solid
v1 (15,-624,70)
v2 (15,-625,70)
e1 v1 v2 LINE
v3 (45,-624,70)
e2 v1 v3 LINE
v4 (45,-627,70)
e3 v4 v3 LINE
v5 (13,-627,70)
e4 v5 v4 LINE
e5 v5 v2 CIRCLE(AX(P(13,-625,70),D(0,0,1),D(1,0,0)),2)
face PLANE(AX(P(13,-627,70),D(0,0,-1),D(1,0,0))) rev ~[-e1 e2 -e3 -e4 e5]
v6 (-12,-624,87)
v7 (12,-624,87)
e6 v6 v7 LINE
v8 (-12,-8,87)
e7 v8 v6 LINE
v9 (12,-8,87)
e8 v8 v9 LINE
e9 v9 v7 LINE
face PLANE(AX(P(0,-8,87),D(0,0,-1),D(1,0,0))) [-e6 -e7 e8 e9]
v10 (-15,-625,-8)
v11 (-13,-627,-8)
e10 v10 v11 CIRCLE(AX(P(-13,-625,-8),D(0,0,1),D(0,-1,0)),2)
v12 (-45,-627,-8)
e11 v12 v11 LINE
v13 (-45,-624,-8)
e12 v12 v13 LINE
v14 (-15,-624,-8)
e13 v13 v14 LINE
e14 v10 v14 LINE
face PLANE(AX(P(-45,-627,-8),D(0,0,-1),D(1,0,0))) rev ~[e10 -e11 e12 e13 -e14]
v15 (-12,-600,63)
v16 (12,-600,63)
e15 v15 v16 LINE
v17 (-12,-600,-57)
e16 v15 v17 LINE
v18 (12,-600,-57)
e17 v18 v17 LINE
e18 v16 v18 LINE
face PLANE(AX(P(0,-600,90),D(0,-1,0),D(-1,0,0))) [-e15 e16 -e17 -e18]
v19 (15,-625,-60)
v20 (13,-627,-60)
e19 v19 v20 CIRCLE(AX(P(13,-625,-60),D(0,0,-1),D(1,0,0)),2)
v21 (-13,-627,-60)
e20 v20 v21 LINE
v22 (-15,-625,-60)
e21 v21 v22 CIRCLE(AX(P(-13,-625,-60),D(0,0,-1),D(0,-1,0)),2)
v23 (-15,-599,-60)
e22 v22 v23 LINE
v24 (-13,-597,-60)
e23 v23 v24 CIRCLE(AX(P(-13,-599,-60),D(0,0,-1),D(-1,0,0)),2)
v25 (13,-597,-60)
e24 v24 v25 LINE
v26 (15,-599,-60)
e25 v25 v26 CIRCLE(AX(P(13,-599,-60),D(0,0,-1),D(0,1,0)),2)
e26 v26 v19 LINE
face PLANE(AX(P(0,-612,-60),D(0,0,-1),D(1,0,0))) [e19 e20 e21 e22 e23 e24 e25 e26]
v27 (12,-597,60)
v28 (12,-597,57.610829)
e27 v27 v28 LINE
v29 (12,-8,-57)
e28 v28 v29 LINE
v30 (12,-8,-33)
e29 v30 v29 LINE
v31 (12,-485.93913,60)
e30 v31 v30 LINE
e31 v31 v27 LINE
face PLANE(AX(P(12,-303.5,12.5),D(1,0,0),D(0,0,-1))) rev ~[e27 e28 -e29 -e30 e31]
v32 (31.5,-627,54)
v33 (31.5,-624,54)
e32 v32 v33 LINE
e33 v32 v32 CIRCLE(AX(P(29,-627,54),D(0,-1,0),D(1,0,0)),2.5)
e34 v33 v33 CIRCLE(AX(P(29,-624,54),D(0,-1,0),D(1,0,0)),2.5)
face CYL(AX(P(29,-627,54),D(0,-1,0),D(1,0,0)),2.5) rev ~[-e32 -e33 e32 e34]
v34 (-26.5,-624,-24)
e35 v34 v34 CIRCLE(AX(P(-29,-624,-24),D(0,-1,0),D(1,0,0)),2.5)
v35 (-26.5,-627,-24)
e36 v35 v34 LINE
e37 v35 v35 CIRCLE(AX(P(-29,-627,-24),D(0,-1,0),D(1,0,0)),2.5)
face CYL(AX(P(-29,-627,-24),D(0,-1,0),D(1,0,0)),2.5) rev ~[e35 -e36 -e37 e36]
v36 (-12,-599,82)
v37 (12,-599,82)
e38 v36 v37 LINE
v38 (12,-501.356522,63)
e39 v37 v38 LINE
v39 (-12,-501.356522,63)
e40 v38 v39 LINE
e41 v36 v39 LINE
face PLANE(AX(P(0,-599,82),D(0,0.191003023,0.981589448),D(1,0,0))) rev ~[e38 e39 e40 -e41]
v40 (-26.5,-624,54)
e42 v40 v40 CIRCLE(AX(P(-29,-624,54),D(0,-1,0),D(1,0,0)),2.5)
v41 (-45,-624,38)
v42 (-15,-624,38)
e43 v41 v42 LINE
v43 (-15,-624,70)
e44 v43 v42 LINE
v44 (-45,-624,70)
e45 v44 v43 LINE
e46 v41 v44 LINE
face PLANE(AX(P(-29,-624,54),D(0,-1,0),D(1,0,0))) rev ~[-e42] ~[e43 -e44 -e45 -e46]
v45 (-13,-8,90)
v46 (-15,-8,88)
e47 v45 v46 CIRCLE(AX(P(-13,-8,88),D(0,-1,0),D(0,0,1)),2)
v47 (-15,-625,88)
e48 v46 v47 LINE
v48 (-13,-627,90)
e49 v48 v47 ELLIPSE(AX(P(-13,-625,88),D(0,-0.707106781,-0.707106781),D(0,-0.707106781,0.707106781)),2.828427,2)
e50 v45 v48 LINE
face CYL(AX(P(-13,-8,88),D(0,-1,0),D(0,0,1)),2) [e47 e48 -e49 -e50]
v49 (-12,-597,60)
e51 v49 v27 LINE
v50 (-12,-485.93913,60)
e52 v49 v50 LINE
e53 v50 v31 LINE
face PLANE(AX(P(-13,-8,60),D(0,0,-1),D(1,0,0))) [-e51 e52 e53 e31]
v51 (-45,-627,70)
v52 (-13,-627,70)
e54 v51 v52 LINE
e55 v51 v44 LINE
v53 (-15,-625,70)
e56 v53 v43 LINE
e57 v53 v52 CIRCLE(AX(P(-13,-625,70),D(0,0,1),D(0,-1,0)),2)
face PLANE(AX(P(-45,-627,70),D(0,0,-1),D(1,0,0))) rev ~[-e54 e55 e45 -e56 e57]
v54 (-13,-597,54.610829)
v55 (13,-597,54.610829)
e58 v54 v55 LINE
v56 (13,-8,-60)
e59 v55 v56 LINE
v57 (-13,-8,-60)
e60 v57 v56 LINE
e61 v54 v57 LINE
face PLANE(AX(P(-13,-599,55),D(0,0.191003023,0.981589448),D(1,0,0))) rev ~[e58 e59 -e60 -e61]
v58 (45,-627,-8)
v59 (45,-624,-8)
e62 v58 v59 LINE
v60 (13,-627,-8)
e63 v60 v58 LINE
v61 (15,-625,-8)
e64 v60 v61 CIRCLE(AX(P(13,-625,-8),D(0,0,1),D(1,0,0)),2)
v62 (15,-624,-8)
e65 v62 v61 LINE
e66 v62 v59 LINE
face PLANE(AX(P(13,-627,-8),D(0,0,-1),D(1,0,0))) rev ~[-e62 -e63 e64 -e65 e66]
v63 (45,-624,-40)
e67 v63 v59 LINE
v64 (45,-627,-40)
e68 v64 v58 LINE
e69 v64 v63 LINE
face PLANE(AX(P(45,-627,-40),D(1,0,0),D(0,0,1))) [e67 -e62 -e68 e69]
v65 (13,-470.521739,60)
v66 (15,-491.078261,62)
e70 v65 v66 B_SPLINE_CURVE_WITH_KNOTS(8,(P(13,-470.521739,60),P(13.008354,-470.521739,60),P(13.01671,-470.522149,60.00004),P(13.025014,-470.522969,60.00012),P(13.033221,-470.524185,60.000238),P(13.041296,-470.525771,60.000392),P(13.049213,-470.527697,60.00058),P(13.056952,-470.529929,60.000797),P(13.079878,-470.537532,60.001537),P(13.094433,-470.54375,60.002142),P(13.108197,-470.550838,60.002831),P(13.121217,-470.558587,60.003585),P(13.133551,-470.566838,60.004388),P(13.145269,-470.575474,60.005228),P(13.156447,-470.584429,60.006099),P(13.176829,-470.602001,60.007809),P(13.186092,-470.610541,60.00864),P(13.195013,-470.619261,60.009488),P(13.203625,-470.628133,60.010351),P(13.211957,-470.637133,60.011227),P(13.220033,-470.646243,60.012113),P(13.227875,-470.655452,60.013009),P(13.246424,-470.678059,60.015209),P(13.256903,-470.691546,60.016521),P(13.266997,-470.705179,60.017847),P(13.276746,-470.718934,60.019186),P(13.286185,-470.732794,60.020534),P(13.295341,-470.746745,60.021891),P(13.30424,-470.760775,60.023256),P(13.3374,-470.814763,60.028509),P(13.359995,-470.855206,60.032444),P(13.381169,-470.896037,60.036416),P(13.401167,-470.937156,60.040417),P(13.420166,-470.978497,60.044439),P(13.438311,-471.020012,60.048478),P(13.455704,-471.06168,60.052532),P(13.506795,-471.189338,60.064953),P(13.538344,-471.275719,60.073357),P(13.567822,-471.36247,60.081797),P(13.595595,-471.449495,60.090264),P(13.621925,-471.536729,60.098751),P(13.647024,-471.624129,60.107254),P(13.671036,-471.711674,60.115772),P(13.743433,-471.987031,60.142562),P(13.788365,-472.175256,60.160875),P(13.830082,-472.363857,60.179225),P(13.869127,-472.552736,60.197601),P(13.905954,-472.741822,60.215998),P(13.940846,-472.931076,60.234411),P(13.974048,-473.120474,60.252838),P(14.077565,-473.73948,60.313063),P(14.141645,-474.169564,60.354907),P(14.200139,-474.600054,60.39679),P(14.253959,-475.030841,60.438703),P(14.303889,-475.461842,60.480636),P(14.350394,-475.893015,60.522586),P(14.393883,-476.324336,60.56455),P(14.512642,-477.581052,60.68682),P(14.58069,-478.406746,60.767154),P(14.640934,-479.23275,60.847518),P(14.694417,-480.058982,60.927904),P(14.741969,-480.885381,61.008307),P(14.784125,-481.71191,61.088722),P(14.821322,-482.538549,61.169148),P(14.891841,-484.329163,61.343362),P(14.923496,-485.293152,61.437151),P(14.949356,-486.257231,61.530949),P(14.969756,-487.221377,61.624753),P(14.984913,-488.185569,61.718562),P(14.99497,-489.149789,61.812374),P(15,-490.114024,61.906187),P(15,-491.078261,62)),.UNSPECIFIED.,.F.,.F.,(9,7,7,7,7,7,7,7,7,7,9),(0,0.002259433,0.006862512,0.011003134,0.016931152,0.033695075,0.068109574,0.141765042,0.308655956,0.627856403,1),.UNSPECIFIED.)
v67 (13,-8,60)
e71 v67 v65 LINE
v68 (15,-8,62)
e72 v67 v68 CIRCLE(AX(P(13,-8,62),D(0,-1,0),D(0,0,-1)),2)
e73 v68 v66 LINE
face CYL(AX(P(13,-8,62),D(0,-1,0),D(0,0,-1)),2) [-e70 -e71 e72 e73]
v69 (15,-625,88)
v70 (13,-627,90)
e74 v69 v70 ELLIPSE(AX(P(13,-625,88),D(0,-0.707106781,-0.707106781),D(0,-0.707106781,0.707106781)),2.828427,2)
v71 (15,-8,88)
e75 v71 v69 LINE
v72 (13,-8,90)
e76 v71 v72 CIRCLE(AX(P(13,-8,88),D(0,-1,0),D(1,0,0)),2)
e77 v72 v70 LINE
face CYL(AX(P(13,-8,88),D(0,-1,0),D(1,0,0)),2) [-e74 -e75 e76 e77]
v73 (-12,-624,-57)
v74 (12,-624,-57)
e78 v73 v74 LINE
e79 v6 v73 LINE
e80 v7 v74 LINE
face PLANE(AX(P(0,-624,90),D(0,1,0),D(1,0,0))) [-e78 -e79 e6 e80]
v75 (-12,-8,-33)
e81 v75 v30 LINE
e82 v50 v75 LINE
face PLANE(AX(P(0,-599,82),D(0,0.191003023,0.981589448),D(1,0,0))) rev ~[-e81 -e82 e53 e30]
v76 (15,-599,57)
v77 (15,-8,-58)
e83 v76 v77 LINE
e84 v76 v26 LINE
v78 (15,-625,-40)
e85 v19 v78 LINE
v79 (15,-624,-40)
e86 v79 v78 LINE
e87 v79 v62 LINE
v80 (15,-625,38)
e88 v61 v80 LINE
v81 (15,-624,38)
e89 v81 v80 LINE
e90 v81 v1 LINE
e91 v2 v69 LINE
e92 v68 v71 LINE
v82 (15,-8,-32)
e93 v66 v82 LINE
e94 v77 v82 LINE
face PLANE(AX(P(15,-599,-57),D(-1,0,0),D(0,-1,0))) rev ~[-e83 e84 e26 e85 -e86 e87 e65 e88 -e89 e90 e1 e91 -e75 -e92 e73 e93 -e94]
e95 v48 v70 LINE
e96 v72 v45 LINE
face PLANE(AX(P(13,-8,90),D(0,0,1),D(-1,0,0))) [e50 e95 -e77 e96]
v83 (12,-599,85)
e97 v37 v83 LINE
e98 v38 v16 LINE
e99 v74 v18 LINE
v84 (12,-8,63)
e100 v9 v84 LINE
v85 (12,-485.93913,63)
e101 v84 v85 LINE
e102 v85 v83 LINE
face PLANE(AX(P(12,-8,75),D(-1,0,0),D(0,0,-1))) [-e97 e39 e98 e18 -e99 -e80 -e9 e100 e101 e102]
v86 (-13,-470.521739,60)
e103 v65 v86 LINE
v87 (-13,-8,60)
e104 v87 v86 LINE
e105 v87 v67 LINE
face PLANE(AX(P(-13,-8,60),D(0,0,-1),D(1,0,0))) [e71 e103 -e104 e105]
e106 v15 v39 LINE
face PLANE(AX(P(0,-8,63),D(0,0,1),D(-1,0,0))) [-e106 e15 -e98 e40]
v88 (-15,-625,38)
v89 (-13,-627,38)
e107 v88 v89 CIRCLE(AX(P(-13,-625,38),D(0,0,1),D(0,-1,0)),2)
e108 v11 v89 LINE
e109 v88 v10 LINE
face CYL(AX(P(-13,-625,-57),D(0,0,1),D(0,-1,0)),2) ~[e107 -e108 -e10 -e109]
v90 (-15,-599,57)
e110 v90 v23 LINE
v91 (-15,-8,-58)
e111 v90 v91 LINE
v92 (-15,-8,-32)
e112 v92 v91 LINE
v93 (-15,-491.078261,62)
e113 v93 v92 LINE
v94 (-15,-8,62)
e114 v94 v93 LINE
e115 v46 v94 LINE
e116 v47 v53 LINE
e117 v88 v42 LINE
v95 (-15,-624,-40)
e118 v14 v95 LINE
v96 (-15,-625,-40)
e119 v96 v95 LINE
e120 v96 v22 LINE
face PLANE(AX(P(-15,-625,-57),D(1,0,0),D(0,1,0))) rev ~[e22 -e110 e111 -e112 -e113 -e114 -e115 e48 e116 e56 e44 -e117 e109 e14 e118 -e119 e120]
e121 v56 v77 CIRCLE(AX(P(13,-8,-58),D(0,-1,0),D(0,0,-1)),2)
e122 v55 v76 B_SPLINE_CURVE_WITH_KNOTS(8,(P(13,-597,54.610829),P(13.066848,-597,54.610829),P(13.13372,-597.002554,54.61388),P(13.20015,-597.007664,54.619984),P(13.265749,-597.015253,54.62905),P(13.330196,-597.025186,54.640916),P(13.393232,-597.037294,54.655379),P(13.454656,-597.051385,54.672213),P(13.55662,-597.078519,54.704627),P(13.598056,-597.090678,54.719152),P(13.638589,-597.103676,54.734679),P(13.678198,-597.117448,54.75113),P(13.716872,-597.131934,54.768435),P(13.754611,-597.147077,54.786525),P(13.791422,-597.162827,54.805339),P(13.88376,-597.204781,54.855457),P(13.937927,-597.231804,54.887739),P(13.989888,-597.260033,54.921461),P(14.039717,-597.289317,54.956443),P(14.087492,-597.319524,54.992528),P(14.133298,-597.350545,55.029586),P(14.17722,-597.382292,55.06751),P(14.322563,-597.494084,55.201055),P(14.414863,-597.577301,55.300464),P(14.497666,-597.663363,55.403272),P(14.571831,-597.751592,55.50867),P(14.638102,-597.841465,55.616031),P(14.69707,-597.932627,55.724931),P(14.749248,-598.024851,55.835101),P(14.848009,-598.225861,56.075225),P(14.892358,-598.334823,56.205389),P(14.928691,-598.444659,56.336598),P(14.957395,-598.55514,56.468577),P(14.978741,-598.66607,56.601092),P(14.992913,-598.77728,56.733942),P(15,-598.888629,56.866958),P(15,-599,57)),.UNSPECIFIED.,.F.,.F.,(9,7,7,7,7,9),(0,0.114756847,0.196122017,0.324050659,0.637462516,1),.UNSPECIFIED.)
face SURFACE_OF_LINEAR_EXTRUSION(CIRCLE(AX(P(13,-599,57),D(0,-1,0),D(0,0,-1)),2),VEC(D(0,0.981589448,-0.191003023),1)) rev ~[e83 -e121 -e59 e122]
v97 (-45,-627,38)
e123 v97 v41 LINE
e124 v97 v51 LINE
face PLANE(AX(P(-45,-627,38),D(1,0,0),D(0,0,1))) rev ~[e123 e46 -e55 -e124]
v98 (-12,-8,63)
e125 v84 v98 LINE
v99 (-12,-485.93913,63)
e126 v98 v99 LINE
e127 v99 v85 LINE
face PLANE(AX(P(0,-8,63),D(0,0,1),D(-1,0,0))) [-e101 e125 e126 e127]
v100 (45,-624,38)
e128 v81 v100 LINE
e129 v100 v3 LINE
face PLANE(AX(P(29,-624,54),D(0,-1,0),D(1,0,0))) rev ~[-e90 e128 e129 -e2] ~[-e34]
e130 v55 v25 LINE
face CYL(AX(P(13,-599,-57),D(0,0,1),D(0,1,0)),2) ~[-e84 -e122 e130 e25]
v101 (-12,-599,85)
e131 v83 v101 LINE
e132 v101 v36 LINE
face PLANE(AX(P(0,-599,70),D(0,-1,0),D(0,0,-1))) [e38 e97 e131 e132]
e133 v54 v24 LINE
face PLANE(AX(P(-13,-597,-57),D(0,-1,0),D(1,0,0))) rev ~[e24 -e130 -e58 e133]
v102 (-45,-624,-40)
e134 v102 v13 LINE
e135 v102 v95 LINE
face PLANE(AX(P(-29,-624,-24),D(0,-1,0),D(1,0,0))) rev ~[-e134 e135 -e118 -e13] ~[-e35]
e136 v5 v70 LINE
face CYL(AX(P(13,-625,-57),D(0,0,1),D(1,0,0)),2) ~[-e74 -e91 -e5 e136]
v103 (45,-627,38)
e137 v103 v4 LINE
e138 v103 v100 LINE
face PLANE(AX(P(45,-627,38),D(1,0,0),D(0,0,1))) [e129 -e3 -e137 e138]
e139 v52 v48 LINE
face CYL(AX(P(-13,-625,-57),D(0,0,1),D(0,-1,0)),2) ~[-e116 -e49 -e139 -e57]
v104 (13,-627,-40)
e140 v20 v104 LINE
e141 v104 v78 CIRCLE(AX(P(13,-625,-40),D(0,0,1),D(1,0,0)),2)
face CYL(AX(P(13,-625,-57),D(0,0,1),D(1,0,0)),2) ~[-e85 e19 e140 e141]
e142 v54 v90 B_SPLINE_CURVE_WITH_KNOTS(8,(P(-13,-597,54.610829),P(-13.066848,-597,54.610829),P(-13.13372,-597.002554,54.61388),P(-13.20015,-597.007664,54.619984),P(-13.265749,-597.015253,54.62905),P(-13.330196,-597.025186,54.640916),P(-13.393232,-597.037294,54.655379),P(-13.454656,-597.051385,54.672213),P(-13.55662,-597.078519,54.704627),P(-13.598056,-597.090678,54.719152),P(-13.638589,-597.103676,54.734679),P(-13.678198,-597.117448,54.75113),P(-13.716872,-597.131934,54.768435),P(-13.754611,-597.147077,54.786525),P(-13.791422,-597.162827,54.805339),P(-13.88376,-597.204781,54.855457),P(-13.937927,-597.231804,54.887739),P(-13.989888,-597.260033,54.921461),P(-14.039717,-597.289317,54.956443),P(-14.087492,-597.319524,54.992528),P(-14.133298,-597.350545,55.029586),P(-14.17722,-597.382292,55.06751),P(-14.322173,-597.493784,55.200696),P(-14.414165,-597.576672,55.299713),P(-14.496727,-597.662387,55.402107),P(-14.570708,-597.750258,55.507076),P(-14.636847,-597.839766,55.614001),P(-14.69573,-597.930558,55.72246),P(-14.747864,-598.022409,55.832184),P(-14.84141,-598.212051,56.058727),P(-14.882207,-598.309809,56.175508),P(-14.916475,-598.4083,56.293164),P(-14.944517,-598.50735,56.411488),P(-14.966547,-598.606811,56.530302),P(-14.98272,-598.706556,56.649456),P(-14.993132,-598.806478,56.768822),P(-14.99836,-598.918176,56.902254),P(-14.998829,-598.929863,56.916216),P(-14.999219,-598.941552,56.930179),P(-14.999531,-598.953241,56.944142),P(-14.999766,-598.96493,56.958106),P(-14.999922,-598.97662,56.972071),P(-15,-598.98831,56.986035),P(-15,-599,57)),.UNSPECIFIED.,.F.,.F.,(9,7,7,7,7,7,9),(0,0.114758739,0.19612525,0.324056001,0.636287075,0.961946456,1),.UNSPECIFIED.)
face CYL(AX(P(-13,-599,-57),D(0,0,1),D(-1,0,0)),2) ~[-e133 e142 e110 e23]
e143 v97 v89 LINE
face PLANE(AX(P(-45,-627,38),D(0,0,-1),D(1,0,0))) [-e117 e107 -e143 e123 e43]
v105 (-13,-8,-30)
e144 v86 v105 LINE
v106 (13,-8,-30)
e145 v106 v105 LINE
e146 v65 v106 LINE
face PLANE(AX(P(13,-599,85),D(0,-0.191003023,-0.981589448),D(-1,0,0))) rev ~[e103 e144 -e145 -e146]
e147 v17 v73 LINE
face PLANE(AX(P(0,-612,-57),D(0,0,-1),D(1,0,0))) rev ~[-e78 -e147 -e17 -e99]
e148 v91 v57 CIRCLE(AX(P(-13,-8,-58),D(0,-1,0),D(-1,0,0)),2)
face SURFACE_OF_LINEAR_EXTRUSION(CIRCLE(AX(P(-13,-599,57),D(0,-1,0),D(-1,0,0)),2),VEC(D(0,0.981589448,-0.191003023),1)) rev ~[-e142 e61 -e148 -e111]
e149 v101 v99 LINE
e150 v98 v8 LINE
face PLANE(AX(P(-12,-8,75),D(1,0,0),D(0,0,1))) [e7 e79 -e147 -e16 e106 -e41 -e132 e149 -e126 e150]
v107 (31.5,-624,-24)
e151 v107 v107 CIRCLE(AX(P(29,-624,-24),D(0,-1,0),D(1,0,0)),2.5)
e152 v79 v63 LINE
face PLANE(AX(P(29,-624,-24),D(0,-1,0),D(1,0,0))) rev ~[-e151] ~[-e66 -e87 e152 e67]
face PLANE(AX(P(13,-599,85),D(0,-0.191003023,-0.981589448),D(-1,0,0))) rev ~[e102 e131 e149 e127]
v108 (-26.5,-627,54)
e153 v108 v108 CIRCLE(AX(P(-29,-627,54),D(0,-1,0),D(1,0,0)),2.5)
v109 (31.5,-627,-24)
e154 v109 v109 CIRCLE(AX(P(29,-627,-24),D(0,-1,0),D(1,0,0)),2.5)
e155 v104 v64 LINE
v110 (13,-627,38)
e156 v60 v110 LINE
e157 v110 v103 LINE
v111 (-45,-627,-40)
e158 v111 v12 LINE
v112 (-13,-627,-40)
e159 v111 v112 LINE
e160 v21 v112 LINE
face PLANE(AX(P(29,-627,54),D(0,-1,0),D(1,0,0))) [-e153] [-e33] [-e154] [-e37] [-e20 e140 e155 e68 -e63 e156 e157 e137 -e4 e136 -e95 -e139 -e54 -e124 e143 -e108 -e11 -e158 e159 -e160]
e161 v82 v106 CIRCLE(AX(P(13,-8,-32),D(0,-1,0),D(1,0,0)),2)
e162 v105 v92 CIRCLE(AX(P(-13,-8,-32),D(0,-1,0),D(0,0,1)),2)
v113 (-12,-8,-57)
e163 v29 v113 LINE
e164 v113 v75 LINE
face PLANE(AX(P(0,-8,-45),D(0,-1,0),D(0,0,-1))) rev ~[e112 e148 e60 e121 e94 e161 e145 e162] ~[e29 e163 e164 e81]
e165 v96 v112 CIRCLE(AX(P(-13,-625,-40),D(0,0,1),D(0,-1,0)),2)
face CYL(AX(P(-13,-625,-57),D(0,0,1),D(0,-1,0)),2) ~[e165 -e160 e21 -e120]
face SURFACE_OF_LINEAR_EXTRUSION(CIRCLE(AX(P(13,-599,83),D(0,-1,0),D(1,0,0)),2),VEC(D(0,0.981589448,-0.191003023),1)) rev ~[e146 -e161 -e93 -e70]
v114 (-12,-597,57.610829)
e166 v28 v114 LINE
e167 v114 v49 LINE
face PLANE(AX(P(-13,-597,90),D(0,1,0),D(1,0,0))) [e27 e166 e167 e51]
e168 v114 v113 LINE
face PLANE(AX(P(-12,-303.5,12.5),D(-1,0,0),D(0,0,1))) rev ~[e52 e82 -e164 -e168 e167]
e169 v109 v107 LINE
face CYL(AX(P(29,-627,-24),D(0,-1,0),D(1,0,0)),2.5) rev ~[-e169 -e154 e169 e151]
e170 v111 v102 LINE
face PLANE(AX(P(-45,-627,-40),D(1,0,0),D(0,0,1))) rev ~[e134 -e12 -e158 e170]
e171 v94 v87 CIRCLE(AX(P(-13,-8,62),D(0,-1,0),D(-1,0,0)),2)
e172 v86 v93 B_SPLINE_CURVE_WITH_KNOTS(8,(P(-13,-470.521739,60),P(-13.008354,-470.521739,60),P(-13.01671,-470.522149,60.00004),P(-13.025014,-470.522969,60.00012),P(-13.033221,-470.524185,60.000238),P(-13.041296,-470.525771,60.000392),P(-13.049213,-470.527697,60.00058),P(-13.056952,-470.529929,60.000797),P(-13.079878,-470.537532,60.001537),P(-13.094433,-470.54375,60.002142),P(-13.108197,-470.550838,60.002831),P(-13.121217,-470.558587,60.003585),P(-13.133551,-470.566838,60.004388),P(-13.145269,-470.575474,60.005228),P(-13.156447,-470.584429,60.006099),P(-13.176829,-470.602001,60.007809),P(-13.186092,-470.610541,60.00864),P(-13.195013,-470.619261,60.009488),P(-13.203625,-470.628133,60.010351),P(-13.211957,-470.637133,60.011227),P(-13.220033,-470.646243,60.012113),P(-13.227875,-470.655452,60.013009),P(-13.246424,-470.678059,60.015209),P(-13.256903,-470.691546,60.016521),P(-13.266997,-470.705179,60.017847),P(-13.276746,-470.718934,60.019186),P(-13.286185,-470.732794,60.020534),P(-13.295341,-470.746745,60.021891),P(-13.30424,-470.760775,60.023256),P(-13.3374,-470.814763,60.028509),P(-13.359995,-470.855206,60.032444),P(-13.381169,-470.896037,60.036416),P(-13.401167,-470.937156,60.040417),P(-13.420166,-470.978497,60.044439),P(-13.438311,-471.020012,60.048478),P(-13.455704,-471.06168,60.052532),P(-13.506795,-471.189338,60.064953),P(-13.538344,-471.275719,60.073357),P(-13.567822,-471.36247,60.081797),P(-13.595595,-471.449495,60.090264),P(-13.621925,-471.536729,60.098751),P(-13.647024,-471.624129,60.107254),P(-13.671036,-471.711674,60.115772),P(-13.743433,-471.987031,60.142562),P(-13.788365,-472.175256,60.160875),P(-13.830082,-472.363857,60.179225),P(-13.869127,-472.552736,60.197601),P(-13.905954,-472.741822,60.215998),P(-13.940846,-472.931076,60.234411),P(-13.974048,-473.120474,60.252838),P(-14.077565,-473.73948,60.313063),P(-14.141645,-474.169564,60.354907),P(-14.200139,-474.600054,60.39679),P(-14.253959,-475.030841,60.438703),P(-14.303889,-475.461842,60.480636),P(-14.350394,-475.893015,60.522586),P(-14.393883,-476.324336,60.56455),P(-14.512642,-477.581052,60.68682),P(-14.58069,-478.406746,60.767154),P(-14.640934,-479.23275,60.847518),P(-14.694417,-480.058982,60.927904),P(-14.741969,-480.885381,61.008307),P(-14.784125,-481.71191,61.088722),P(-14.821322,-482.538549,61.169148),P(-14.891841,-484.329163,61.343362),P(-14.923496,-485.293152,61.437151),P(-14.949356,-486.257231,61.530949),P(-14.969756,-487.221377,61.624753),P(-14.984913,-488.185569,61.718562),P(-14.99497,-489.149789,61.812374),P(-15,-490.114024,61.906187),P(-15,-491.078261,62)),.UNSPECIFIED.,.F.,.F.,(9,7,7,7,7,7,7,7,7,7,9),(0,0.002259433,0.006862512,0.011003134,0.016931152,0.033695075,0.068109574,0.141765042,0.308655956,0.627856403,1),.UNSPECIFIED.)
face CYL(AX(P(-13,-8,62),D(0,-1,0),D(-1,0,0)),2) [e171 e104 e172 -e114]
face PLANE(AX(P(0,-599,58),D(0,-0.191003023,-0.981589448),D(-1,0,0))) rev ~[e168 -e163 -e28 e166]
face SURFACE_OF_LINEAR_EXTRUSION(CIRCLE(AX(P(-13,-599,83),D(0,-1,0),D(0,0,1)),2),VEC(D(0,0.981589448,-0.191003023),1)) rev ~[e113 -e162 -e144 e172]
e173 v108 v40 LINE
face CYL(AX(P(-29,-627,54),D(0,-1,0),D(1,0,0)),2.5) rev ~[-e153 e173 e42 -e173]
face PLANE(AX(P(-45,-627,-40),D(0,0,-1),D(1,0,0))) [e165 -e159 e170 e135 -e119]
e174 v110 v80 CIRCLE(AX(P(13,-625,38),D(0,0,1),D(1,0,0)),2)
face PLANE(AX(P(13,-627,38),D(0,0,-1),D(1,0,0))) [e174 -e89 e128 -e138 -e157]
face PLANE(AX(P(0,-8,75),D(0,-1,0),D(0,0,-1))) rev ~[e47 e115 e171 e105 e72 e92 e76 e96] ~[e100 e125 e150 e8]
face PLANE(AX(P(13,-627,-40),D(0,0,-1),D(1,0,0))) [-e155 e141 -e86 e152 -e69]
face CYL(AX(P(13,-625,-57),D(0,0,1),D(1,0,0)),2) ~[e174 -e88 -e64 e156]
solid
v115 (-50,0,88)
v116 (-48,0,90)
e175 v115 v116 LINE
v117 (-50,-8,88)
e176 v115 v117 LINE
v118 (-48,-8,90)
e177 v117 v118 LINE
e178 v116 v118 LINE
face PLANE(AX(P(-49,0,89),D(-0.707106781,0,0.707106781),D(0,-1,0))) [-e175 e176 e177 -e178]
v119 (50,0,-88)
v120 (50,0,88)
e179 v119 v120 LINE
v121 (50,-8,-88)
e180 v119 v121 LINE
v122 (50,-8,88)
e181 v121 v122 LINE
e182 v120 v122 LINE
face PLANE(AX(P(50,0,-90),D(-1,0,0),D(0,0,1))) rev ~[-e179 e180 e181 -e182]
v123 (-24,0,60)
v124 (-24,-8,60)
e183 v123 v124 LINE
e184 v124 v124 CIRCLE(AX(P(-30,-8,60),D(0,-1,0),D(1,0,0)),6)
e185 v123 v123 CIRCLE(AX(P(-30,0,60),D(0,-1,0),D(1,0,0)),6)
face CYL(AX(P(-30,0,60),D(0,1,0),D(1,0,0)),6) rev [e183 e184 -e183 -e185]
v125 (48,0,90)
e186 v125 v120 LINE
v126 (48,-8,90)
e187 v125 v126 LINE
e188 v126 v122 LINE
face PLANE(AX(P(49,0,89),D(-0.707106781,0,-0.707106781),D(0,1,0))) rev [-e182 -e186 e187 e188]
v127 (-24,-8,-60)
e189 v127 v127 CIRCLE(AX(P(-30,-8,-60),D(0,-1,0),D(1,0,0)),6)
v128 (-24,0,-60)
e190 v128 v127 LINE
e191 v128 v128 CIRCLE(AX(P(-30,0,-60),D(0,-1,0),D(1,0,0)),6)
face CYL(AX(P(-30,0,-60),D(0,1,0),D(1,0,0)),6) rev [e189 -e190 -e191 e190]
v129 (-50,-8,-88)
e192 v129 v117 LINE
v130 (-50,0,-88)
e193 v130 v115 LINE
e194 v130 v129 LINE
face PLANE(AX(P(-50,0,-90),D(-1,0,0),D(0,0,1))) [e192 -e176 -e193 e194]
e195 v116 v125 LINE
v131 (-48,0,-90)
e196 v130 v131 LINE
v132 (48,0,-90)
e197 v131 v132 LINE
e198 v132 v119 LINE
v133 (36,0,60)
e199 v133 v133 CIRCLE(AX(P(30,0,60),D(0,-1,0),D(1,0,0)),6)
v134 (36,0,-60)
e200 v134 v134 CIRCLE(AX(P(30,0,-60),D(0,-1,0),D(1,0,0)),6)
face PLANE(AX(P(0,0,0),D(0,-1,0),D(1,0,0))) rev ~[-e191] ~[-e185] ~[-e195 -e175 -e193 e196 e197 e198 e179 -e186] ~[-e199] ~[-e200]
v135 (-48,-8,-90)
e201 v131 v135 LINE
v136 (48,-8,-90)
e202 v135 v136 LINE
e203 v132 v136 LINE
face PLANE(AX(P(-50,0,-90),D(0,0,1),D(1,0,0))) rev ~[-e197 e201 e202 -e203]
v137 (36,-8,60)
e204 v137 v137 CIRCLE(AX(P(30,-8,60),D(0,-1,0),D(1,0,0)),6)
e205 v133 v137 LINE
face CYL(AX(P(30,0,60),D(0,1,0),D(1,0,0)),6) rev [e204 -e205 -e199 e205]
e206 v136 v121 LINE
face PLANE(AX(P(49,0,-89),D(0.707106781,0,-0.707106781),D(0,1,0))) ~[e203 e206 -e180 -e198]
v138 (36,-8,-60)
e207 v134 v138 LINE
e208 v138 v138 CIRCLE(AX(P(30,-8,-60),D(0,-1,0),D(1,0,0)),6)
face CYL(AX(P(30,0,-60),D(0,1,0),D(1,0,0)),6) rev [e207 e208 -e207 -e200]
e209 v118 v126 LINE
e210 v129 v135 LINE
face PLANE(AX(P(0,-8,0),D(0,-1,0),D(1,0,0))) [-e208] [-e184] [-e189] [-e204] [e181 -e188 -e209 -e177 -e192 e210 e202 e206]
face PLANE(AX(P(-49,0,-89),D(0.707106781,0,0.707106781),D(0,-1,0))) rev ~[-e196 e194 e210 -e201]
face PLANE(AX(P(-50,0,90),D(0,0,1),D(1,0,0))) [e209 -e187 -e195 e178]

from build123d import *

# Parameters (mm, degrees)
F0_W      = 100
F0_H      = 180
F0_R      = 6
F1_DEPTH  = 8
F2_SIZE   = 2
F4_W      = 24
F4_H      = 24
F8_DEPTH  = 3
F9_W      = 32
F9_H      = 32
F9_R      = 2.5
F10_DEPTH = 3


with BuildPart() as f1:
    # F0 (on Front) → F1 (new body)
    with BuildSketch(Plane.XZ):
        Rectangle(F0_W, F0_H)
        with Locations((-30, -60)):
            Circle(F0_R, mode=Mode.SUBTRACT)
        with Locations((30, -60)):
            Circle(F0_R, mode=Mode.SUBTRACT)
        with Locations((-30, 60)):
            Circle(F0_R, mode=Mode.SUBTRACT)
        with Locations((30, 60)):
            Circle(F0_R, mode=Mode.SUBTRACT)
    extrude(amount=F1_DEPTH)

    # F2
    f2_edges = [f1.edges().sort_by_distance(p)[0] for p in [
        (50, -4, 90),
        (50, -4, -90),
        (-50, -4, -90),
        (-50, -4, 90),
    ]]
    chamfer(f2_edges, length=F2_SIZE)


with BuildPart() as f5:
    # F5: sweep along a path in F3
    with BuildLine(Plane.YZ) as f5_path:
        Line((-8, 90), (-627, 90))
        Line((-627, 90), (-627, -57))
    # F4 (on face) → F5 (sweep)
    with BuildSketch(Plane.XZ.offset(8)):
        with BuildLine():
            Line((13, 90), (-13, 90))
            ThreePointArc((-13, 90), (-14.4142135624, 89.4142135624), (-15, 88))
            Line((-15, 88), (-15, 62))
            ThreePointArc((-15, 62), (-14.4142135624, 60.5857864376), (-13, 60))
            Line((-13, 60), (13, 60))
            ThreePointArc((13, 60), (14.4142135624, 60.5857864376), (15, 62))
            Line((15, 62), (15, 88))
            ThreePointArc((15, 88), (14.4142135624, 89.4142135624), (13, 90))
        make_face()
        with Locations((0, 75)):
            Rectangle(F4_W, F4_H, mode=Mode.SUBTRACT)
    sweep(path=f5_path.line, transition=Transition.RIGHT)

    # F6: sweep along a path in F3
    with BuildLine(Plane.YZ) as f6_path:
        Line((-599, 55), (-8, -60))
    # F4 (on face) → F6 (sweep)
    with BuildSketch(Plane.XZ.offset(8)):
        with BuildLine():
            Line((13, -30), (-13, -30))
            ThreePointArc((-13, -30), (-14.4142135624, -30.5857864376), (-15, -32))
            Line((-15, -32), (-15, -58))
            ThreePointArc((-15, -58), (-14.4142135624, -59.4142135624), (-13, -60))
            Line((-13, -60), (13, -60))
            ThreePointArc((13, -60), (14.4142135624, -59.4142135624), (15, -58))
            Line((15, -58), (15, -32))
            ThreePointArc((15, -32), (14.4142135624, -30.5857864376), (13, -30))
        make_face()
        with Locations((0, -45)):
            Rectangle(F4_W, F4_H, mode=Mode.SUBTRACT)
    sweep(path=f6_path.line)

    # F7 (on face) → F8 (join)
    with BuildSketch(Plane(origin=(0, 0, -57), x_dir=(1, 0, 0), z_dir=(0, 0, -1))):
        with BuildLine():
            ThreePointArc((-13, 627), (-14.4142135624, 626.4142135624), (-15, 625))
            Line((-15, 625), (-15, 599))
            ThreePointArc((-15, 599), (-14.4142135624, 597.5857864376), (-13, 597))
            Line((-13, 597), (13, 597))
            ThreePointArc((13, 597), (14.4142135624, 597.5857864376), (15, 599))
            Line((15, 599), (15, 625))
            ThreePointArc((15, 625), (14.4142135624, 626.4142135624), (13, 627))
            Line((13, 627), (-13, 627))
        make_face()
    extrude(amount=F8_DEPTH)

    # F9 (on face) → F10 (join)
    with BuildSketch(Plane.XZ.offset(627)):
        with Locations((29, 54)):
            Rectangle(F9_W, F9_H)
        with Locations((29, 54)):
            Circle(F9_R, mode=Mode.SUBTRACT)
        with Locations((29, -24)):
            Rectangle(F9_W, F9_H)
        with Locations((29, -24)):
            Circle(F9_R, mode=Mode.SUBTRACT)
        with Locations((-29, -24)):
            Rectangle(F9_W, F9_H)
        with Locations((-29, -24)):
            Circle(F9_R, mode=Mode.SUBTRACT)
        with Locations((-29, 54)):
            Rectangle(F9_W, F9_H)
        with Locations((-29, 54)):
            Circle(F9_R, mode=Mode.SUBTRACT)
    extrude(amount=-F10_DEPTH)


solid = Compound([f1.part, f5.part])
